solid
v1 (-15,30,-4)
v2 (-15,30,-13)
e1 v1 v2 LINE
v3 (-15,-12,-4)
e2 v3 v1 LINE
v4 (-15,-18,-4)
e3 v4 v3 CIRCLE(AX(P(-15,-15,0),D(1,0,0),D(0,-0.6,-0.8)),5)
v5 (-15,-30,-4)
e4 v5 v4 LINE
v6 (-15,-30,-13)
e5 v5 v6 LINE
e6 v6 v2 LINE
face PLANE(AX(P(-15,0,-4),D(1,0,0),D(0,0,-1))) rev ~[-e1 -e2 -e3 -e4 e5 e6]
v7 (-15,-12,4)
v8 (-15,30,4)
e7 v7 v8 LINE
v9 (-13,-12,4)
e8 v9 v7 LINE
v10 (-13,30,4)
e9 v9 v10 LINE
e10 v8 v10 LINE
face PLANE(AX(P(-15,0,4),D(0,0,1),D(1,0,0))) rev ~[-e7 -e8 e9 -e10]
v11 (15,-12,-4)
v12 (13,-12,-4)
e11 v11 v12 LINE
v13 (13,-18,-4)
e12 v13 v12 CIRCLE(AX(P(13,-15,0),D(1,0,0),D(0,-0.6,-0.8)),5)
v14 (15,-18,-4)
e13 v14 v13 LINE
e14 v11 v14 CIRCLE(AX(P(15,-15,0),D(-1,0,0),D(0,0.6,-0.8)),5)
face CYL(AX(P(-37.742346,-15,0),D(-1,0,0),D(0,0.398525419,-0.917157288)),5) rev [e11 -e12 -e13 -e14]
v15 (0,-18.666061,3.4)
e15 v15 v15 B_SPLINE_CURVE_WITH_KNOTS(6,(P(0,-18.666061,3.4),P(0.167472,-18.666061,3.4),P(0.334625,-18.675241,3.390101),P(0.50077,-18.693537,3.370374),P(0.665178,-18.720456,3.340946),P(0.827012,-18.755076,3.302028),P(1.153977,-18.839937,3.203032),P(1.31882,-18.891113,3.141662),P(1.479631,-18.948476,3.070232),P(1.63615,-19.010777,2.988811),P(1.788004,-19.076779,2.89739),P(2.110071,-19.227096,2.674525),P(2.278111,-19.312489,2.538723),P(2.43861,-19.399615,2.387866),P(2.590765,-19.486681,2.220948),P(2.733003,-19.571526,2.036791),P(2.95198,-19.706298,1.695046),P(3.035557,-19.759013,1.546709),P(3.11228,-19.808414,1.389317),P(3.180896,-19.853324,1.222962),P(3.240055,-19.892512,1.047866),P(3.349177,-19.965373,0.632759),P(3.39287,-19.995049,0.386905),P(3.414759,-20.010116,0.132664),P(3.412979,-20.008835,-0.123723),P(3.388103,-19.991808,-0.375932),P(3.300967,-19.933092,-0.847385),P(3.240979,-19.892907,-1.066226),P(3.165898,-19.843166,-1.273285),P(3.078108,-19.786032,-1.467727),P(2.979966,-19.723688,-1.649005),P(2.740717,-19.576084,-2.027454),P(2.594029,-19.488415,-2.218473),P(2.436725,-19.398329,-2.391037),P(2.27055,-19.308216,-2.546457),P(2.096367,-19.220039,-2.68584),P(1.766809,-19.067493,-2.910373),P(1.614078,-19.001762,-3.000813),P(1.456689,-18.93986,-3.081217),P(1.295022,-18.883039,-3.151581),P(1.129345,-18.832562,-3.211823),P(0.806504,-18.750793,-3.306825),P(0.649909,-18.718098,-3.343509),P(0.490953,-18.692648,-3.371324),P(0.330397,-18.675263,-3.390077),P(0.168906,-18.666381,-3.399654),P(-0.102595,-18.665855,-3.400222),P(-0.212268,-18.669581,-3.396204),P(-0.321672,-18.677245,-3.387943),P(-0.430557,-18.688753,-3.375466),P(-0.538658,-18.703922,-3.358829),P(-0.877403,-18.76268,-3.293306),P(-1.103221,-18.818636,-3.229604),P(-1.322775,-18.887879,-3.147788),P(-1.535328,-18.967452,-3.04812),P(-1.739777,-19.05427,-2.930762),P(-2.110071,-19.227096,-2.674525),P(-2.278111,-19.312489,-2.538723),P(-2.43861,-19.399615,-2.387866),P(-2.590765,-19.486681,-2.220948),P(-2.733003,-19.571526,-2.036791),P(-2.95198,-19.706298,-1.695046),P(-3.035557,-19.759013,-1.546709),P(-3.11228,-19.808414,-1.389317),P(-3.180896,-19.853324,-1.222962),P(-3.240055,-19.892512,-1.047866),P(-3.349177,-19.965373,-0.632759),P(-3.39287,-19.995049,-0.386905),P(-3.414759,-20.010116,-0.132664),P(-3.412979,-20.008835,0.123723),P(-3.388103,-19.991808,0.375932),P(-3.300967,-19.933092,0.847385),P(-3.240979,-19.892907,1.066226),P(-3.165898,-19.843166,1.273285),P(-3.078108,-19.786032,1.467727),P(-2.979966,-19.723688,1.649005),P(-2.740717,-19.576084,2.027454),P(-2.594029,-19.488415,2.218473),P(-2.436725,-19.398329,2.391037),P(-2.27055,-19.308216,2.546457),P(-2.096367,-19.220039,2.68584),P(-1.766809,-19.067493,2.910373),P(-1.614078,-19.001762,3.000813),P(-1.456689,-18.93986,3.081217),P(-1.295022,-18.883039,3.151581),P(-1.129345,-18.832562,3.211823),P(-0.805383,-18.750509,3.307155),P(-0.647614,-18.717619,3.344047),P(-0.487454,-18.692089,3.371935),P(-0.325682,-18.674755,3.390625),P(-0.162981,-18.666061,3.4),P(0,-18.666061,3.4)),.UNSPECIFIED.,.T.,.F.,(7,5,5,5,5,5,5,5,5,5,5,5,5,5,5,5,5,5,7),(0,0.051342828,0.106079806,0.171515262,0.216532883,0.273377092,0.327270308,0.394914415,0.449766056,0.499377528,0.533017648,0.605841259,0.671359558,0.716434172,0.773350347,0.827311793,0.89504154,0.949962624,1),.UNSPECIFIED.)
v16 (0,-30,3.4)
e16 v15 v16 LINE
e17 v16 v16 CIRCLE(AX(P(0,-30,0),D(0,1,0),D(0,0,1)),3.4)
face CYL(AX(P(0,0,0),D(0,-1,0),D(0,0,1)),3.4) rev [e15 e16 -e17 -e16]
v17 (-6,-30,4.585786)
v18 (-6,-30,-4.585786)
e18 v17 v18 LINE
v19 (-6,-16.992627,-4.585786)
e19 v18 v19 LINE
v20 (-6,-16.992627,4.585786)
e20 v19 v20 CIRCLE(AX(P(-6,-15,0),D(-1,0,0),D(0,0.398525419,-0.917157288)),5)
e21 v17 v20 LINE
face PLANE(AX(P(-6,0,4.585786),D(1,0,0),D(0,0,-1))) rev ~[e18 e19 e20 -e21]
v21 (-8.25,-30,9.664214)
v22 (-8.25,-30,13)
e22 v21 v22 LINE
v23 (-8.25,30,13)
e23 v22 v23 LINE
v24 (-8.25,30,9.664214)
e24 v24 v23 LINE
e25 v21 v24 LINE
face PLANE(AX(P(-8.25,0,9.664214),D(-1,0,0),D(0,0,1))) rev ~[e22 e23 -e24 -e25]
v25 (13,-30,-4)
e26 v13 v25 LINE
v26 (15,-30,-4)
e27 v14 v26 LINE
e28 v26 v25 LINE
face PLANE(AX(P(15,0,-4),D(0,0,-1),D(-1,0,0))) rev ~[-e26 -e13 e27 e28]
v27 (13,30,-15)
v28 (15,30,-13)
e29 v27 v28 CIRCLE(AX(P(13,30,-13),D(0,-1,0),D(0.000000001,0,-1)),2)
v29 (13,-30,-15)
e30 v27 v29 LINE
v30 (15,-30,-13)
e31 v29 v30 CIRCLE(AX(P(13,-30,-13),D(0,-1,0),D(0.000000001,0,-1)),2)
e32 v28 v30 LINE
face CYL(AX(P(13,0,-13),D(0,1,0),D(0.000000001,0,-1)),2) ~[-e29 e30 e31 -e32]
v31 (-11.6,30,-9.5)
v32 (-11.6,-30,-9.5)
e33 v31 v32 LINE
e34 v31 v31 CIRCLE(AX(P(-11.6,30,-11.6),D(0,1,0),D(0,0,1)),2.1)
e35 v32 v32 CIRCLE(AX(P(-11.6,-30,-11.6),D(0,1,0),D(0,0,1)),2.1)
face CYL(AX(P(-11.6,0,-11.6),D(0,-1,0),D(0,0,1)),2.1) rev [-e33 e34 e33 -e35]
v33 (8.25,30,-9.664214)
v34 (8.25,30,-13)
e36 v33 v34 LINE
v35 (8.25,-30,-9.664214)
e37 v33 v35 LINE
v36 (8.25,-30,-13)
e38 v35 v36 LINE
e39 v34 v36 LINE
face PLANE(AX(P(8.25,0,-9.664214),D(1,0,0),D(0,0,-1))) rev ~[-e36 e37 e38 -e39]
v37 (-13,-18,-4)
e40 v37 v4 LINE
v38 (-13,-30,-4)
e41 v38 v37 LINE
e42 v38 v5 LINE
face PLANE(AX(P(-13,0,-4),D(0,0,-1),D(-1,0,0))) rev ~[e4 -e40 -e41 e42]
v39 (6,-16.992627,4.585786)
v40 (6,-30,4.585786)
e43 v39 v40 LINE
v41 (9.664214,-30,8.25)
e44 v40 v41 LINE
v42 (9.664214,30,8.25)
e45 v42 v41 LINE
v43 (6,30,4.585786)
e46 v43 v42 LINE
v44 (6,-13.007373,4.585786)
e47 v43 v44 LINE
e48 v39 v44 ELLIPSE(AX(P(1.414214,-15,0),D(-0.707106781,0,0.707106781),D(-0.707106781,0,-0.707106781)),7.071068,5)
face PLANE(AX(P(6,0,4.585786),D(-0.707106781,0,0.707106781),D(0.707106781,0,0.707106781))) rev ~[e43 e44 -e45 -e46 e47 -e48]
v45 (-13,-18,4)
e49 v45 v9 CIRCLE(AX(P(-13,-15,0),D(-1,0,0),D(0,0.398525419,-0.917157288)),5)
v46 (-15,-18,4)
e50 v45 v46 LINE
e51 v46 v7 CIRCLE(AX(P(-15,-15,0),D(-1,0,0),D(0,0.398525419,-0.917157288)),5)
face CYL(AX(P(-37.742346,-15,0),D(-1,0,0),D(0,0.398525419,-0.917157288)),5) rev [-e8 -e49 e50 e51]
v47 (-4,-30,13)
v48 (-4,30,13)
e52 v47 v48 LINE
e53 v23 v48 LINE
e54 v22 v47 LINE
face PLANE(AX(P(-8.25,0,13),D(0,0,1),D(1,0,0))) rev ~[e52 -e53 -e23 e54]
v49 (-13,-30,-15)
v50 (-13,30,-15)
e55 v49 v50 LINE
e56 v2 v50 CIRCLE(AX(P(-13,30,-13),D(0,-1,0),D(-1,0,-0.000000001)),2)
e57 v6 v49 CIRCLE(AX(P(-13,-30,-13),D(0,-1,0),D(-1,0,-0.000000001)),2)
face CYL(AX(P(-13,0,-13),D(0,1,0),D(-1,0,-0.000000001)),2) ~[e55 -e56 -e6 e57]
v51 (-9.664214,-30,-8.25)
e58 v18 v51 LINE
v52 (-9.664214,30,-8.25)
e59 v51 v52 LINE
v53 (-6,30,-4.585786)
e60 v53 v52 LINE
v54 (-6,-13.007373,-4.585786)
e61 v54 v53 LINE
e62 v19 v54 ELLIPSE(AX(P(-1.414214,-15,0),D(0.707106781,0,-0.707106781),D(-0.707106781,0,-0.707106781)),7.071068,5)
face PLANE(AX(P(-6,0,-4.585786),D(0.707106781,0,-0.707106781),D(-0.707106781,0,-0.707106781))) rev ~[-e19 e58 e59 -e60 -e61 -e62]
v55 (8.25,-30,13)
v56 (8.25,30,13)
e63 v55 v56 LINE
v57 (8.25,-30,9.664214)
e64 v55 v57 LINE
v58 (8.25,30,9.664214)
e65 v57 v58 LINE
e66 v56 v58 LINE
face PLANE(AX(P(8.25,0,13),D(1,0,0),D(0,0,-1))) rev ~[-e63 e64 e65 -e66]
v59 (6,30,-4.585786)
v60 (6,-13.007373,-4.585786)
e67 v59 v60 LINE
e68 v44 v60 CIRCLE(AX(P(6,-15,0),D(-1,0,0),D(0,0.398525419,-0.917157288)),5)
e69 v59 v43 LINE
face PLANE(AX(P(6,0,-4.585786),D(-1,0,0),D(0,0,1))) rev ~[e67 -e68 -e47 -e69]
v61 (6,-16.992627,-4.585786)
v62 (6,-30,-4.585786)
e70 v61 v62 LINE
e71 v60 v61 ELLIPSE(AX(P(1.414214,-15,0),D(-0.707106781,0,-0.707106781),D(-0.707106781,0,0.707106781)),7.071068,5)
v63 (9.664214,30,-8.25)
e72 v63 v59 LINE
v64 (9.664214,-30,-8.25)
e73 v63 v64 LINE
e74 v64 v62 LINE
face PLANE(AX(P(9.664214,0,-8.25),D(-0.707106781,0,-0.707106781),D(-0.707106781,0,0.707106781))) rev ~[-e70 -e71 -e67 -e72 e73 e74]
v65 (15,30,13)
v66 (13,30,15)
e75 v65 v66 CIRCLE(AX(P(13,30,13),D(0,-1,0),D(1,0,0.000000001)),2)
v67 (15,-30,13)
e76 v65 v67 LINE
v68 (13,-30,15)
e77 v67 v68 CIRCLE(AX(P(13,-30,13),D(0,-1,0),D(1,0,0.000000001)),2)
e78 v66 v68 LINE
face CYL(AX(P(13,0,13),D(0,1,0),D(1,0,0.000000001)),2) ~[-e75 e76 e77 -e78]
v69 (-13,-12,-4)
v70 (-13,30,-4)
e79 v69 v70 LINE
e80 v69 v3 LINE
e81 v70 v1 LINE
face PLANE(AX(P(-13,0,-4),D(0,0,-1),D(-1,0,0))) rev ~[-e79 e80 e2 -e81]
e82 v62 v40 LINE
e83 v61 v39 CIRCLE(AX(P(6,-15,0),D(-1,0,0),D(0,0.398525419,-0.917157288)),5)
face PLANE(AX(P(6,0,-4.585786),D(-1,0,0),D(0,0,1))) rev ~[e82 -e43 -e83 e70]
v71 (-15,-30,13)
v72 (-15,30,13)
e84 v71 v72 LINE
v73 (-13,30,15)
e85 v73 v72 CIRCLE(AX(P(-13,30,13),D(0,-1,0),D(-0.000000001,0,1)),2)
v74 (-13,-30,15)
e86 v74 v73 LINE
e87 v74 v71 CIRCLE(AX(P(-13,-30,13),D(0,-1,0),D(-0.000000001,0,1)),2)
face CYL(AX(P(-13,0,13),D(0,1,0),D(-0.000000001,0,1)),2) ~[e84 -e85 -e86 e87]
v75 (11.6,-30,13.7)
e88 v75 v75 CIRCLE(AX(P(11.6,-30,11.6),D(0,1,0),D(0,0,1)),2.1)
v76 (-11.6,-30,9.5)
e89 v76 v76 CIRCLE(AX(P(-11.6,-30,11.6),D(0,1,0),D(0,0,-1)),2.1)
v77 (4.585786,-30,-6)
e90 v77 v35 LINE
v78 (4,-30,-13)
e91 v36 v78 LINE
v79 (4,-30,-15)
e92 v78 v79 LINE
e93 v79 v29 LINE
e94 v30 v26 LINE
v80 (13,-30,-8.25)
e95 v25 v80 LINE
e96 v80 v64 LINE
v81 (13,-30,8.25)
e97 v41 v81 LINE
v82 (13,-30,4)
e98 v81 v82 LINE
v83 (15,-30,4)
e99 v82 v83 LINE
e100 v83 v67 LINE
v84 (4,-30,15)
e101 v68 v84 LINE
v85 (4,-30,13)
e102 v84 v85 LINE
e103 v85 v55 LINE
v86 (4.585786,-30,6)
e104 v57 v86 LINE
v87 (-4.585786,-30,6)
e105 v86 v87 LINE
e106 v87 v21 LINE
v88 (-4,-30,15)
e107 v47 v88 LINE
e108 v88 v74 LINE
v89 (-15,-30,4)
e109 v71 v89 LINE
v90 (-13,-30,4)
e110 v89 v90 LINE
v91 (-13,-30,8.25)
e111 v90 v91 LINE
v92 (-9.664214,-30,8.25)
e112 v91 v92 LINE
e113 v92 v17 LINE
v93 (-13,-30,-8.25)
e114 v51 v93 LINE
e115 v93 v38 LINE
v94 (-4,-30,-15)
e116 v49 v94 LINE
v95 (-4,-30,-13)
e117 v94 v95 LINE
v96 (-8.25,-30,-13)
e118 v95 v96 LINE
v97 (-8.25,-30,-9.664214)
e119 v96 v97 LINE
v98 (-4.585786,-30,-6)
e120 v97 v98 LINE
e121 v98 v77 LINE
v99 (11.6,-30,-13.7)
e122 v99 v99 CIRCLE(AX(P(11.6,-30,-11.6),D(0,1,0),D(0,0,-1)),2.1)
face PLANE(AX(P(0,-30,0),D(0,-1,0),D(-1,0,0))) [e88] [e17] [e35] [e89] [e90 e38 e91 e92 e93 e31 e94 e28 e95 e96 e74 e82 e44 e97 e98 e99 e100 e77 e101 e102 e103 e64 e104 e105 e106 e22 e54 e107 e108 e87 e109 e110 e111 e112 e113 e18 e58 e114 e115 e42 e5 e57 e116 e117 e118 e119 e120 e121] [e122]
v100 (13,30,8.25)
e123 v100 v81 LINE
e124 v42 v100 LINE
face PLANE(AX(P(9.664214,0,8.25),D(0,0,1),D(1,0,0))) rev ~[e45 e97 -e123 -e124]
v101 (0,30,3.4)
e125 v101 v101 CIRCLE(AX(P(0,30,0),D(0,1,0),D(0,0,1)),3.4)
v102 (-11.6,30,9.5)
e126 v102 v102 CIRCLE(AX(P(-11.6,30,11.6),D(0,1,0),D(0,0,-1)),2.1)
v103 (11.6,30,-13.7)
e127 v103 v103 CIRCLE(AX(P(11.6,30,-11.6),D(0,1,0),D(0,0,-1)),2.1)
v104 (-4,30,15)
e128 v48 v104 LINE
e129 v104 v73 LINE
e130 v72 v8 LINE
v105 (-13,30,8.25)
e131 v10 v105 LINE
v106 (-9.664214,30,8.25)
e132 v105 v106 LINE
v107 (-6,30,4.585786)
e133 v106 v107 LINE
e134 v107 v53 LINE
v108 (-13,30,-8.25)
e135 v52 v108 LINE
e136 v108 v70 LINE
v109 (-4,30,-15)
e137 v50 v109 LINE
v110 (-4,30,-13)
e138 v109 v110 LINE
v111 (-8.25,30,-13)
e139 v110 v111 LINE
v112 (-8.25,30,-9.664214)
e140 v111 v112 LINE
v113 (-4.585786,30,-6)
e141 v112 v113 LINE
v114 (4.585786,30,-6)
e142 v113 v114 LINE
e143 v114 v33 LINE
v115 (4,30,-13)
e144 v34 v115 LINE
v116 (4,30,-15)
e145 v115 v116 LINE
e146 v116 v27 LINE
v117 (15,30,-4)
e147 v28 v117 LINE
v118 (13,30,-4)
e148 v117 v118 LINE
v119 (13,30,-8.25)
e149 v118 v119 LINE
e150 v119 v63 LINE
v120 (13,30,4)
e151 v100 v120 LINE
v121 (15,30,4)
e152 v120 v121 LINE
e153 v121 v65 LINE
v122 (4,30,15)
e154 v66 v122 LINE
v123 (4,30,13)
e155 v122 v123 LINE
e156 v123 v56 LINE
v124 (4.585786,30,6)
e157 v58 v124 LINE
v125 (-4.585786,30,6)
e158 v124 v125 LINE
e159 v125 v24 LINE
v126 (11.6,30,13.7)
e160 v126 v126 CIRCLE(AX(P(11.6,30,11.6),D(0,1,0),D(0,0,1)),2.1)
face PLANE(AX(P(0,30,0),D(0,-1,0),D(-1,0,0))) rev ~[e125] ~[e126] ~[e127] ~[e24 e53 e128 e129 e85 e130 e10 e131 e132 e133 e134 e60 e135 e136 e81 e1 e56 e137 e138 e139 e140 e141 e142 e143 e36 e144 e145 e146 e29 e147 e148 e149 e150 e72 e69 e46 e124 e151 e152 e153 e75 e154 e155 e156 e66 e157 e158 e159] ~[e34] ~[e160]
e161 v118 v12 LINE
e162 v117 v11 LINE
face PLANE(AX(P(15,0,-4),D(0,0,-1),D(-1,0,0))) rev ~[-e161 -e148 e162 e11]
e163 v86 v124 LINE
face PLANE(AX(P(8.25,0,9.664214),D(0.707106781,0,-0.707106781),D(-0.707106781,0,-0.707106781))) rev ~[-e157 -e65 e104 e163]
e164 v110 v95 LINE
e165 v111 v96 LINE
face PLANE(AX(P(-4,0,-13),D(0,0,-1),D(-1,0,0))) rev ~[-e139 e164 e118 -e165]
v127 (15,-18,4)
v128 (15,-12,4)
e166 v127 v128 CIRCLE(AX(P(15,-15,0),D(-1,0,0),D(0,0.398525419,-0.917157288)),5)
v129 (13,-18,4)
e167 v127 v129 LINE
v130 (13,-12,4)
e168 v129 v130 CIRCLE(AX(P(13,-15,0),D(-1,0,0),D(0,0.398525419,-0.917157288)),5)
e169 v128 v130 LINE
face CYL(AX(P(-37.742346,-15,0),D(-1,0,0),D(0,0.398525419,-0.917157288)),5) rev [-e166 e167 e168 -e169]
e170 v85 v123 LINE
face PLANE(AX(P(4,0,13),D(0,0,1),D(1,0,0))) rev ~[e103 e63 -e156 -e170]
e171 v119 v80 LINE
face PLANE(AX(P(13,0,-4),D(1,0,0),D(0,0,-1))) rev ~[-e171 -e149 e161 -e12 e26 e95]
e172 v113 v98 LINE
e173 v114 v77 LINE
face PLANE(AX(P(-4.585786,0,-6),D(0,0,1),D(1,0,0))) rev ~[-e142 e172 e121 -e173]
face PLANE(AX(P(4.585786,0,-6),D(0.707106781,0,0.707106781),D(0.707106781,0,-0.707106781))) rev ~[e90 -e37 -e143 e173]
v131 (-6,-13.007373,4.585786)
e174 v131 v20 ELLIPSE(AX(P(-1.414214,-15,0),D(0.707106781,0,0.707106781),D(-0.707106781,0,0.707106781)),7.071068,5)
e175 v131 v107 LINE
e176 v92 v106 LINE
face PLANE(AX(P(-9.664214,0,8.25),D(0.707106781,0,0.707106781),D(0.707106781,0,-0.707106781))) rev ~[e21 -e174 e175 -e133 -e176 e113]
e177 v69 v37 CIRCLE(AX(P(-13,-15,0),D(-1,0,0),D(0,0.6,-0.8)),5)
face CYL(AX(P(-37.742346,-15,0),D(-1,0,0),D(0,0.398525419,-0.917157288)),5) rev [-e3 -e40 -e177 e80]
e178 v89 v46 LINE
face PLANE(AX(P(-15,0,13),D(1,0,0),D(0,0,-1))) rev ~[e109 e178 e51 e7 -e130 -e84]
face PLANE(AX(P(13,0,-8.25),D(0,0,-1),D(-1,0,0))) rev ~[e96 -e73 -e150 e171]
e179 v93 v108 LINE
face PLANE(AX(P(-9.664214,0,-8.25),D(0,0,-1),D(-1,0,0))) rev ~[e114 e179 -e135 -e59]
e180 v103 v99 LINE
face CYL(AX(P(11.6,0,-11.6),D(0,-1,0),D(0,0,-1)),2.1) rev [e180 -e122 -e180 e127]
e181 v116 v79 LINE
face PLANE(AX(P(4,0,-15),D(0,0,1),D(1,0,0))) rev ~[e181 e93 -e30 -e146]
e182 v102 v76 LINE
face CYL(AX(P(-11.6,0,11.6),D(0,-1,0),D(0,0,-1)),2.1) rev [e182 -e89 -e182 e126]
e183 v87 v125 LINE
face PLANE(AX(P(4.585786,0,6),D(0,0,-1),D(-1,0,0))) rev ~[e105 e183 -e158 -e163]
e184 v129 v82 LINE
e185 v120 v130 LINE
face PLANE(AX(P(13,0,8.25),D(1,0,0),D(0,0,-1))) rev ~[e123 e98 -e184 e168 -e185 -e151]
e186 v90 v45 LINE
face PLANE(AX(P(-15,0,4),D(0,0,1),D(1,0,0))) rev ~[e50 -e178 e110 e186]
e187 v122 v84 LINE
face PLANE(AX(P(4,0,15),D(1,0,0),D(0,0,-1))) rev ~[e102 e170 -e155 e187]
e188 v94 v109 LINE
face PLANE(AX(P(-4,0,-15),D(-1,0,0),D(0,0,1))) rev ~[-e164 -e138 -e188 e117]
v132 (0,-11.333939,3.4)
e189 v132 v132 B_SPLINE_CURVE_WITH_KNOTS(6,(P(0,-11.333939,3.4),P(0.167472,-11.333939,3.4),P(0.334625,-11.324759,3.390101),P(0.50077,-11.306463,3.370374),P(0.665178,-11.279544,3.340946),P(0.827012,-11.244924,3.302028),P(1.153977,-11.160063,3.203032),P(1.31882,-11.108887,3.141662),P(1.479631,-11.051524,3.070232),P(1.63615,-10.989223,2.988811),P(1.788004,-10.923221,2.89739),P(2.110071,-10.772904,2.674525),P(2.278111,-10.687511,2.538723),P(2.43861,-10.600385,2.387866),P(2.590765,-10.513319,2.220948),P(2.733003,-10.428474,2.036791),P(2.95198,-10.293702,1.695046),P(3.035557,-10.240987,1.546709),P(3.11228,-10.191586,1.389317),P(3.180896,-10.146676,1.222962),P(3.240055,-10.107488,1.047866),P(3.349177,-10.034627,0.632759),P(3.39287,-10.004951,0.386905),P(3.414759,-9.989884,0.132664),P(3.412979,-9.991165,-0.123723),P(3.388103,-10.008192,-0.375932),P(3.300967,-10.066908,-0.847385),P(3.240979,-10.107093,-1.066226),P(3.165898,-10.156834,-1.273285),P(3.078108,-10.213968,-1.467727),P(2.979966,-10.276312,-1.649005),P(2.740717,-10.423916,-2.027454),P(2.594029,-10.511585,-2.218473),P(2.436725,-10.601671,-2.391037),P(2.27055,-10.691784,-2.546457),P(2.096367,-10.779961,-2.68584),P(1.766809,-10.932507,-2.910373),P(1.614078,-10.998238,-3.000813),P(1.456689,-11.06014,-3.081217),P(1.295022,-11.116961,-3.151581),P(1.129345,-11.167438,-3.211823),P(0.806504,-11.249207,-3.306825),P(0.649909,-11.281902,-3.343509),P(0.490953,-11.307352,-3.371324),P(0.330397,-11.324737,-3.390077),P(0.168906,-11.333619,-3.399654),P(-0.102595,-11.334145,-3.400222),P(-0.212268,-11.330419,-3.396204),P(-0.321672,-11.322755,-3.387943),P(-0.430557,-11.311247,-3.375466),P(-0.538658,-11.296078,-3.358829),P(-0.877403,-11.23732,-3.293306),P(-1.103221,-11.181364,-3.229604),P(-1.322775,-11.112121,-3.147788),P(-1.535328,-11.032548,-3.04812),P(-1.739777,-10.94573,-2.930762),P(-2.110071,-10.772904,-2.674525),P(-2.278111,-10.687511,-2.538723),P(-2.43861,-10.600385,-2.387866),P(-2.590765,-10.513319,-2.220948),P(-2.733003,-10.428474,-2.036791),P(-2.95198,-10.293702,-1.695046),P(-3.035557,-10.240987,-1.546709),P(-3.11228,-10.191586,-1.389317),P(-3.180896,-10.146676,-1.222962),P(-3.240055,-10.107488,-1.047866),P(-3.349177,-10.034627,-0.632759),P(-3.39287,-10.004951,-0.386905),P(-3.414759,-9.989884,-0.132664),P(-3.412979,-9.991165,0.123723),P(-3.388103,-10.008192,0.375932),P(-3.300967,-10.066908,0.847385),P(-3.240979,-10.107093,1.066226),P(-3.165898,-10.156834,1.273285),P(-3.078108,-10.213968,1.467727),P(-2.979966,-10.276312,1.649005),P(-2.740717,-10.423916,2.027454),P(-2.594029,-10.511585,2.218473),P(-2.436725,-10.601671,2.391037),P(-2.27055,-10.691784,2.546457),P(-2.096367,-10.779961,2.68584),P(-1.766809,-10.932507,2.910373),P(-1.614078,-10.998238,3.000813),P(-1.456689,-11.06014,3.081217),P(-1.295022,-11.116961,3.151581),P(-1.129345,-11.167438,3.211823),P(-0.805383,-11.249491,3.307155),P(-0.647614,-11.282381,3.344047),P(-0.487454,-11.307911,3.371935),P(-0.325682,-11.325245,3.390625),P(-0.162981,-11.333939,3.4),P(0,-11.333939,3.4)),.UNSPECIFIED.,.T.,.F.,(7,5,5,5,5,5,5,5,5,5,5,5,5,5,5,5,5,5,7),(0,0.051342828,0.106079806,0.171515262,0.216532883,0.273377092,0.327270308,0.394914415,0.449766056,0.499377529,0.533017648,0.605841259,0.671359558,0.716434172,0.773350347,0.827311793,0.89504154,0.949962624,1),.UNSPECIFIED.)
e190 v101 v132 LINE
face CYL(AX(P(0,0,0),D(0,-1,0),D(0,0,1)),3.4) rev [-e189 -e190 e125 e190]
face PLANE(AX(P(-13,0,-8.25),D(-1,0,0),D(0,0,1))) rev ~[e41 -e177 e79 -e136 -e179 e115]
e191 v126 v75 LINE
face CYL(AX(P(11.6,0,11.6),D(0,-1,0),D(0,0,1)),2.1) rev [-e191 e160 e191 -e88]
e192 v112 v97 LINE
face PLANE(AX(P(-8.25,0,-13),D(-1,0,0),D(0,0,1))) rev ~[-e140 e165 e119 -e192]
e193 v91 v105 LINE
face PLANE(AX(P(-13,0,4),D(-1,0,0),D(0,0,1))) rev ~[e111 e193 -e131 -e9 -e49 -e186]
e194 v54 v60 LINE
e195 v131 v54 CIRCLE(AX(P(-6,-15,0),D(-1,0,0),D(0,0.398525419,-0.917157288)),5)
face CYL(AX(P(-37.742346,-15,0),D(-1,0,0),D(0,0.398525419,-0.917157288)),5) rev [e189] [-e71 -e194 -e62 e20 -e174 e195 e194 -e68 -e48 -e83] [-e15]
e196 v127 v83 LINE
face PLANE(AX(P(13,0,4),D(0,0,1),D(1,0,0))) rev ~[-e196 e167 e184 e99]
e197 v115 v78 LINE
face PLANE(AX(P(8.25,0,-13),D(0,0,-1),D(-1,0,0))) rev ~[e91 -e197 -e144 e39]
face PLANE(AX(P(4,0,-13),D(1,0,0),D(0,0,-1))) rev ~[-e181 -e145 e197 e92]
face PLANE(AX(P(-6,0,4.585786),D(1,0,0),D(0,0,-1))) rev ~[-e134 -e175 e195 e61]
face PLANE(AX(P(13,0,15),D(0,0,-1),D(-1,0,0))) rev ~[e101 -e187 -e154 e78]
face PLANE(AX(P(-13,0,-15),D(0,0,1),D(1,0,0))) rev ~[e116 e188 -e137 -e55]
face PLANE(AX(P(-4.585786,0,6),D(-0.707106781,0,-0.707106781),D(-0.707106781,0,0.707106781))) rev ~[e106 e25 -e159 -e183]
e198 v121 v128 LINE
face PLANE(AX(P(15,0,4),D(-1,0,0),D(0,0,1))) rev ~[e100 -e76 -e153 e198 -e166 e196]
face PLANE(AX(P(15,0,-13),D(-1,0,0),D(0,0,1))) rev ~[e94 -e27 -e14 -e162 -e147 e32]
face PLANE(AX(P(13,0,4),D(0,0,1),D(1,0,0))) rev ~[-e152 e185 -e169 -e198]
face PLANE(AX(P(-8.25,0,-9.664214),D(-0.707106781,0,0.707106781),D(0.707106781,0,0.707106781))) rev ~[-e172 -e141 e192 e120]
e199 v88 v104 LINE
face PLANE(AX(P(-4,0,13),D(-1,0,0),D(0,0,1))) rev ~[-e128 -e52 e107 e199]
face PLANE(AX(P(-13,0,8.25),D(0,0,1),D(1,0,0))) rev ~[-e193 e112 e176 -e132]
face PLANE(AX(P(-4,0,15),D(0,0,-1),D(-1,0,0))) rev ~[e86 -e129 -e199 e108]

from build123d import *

# Parameters (mm, degrees)
SKETCH1_R               = 2.1
SKETCH1_R_2             = 3.4
PROFILE_LENGTH_DEPTH    = 30
CUT_EXTRUDE1_DEPTH      = 37.742346142
CUT_EXTRUDE1_DEPTH_BACK = 37.742346142
SKETCH2_R               = 5


with BuildPart() as part:
    # Sketch1 → profile length (new, symmetric)
    with BuildSketch(Plane(origin=(0, 0, 0), x_dir=(1, 0, 0), z_dir=(0, 1, 0))):
        with BuildLine():
            Line((-4, 15), (-4, 13))
            Line((-4, 13), (-8.25, 13))
            Line((-8.25, 13), (-8.25, 9.664213562))
            Line((-8.25, 9.664213562), (-4.585786438, 6))
            Line((-4.585786438, 6), (4.585786438, 6))
            Line((4.585786438, 6), (8.25, 9.664213562))
            Line((8.25, 9.664213562), (8.25, 13))
            Line((8.25, 13), (4, 13))
            Line((4, 13), (4, 15))
            Line((4, 15), (13, 15))
            ThreePointArc((13, 15), (14.414213562, 14.414213562), (15, 13))
            Line((15, 13), (15, 4))
            Line((15, 4), (13, 4))
            Line((13, 4), (13, 8.25))
            Line((13, 8.25), (9.664213562, 8.25))
            Line((9.664213562, 8.25), (6, 4.585786438))
            Line((6, 4.585786438), (6, -4.585786438))
            Line((6, -4.585786438), (9.664213562, -8.25))
            Line((9.664213562, -8.25), (13, -8.25))
            Line((13, -8.25), (13, -4))
            Line((13, -4), (15, -4))
            Line((15, -4), (15, -13))
            ThreePointArc((15, -13), (14.414213562, -14.414213562), (13, -15))
            Line((13, -15), (4, -15))
            Line((4, -15), (4, -13))
            Line((4, -13), (8.25, -13))
            Line((8.25, -13), (8.25, -9.664213562))
            Line((8.25, -9.664213562), (4.585786438, -6))
            Line((4.585786438, -6), (-4.585786438, -6))
            Line((-4.585786438, -6), (-8.25, -9.664213562))
            Line((-8.25, -9.664213562), (-8.25, -13))
            Line((-8.25, -13), (-4, -13))
            Line((-4, -13), (-4, -15))
            Line((-4, -15), (-13, -15))
            ThreePointArc((-13, -15), (-14.414213562, -14.414213562), (-15, -13))
            Line((-15, -13), (-15, -4))
            Line((-15, -4), (-13, -4))
            Line((-13, -4), (-13, -8.25))
            Line((-13, -8.25), (-9.664213562, -8.25))
            Line((-9.664213562, -8.25), (-6, -4.585786438))
            Line((-6, -4.585786438), (-6, 4.585786438))
            Line((-6, 4.585786438), (-9.664213562, 8.25))
            Line((-9.664213562, 8.25), (-13, 8.25))
            Line((-13, 8.25), (-13, 4))
            Line((-13, 4), (-15, 4))
            Line((-15, 4), (-15, 13))
            ThreePointArc((-15, 13), (-14.414213562, 14.414213562), (-13, 15))
            Line((-13, 15), (-4, 15))
        make_face()
        with Locations(Location((-11.6, 11.6, 0), (0, 0, 270))):
            Circle(SKETCH1_R, mode=Mode.SUBTRACT)
        with Locations(Location((11.6, 11.6, 0), (0, 0, 90))):
            Circle(SKETCH1_R, mode=Mode.SUBTRACT)
        with Locations(Location((11.6, -11.6, 0), (0, 0, 270))):
            Circle(SKETCH1_R, mode=Mode.SUBTRACT)
        with Locations(Location((-11.6, -11.6, 0), (0, 0, 90))):
            Circle(SKETCH1_R, mode=Mode.SUBTRACT)
        with Locations(Location((0, 0, 0), (0, 0, 270))):
            Circle(SKETCH1_R_2, mode=Mode.SUBTRACT)
    extrude(amount=PROFILE_LENGTH_DEPTH, both=True)

    # Sketch2 → Cut-Extrude1 (cut, two sides: drawn at the far end of the back side and taken through both)
    with BuildSketch(Plane(origin=(0, 0, 0), x_dir=(0, 0, -1), z_dir=(1, 0, 0)).offset(-CUT_EXTRUDE1_DEPTH_BACK)):
        with Locations(Location((0, -15, 0), (0, 0, 23.486027641))):
            Circle(SKETCH2_R)
    extrude(amount=CUT_EXTRUDE1_DEPTH + CUT_EXTRUDE1_DEPTH_BACK, mode=Mode.SUBTRACT)


solid = part.part
